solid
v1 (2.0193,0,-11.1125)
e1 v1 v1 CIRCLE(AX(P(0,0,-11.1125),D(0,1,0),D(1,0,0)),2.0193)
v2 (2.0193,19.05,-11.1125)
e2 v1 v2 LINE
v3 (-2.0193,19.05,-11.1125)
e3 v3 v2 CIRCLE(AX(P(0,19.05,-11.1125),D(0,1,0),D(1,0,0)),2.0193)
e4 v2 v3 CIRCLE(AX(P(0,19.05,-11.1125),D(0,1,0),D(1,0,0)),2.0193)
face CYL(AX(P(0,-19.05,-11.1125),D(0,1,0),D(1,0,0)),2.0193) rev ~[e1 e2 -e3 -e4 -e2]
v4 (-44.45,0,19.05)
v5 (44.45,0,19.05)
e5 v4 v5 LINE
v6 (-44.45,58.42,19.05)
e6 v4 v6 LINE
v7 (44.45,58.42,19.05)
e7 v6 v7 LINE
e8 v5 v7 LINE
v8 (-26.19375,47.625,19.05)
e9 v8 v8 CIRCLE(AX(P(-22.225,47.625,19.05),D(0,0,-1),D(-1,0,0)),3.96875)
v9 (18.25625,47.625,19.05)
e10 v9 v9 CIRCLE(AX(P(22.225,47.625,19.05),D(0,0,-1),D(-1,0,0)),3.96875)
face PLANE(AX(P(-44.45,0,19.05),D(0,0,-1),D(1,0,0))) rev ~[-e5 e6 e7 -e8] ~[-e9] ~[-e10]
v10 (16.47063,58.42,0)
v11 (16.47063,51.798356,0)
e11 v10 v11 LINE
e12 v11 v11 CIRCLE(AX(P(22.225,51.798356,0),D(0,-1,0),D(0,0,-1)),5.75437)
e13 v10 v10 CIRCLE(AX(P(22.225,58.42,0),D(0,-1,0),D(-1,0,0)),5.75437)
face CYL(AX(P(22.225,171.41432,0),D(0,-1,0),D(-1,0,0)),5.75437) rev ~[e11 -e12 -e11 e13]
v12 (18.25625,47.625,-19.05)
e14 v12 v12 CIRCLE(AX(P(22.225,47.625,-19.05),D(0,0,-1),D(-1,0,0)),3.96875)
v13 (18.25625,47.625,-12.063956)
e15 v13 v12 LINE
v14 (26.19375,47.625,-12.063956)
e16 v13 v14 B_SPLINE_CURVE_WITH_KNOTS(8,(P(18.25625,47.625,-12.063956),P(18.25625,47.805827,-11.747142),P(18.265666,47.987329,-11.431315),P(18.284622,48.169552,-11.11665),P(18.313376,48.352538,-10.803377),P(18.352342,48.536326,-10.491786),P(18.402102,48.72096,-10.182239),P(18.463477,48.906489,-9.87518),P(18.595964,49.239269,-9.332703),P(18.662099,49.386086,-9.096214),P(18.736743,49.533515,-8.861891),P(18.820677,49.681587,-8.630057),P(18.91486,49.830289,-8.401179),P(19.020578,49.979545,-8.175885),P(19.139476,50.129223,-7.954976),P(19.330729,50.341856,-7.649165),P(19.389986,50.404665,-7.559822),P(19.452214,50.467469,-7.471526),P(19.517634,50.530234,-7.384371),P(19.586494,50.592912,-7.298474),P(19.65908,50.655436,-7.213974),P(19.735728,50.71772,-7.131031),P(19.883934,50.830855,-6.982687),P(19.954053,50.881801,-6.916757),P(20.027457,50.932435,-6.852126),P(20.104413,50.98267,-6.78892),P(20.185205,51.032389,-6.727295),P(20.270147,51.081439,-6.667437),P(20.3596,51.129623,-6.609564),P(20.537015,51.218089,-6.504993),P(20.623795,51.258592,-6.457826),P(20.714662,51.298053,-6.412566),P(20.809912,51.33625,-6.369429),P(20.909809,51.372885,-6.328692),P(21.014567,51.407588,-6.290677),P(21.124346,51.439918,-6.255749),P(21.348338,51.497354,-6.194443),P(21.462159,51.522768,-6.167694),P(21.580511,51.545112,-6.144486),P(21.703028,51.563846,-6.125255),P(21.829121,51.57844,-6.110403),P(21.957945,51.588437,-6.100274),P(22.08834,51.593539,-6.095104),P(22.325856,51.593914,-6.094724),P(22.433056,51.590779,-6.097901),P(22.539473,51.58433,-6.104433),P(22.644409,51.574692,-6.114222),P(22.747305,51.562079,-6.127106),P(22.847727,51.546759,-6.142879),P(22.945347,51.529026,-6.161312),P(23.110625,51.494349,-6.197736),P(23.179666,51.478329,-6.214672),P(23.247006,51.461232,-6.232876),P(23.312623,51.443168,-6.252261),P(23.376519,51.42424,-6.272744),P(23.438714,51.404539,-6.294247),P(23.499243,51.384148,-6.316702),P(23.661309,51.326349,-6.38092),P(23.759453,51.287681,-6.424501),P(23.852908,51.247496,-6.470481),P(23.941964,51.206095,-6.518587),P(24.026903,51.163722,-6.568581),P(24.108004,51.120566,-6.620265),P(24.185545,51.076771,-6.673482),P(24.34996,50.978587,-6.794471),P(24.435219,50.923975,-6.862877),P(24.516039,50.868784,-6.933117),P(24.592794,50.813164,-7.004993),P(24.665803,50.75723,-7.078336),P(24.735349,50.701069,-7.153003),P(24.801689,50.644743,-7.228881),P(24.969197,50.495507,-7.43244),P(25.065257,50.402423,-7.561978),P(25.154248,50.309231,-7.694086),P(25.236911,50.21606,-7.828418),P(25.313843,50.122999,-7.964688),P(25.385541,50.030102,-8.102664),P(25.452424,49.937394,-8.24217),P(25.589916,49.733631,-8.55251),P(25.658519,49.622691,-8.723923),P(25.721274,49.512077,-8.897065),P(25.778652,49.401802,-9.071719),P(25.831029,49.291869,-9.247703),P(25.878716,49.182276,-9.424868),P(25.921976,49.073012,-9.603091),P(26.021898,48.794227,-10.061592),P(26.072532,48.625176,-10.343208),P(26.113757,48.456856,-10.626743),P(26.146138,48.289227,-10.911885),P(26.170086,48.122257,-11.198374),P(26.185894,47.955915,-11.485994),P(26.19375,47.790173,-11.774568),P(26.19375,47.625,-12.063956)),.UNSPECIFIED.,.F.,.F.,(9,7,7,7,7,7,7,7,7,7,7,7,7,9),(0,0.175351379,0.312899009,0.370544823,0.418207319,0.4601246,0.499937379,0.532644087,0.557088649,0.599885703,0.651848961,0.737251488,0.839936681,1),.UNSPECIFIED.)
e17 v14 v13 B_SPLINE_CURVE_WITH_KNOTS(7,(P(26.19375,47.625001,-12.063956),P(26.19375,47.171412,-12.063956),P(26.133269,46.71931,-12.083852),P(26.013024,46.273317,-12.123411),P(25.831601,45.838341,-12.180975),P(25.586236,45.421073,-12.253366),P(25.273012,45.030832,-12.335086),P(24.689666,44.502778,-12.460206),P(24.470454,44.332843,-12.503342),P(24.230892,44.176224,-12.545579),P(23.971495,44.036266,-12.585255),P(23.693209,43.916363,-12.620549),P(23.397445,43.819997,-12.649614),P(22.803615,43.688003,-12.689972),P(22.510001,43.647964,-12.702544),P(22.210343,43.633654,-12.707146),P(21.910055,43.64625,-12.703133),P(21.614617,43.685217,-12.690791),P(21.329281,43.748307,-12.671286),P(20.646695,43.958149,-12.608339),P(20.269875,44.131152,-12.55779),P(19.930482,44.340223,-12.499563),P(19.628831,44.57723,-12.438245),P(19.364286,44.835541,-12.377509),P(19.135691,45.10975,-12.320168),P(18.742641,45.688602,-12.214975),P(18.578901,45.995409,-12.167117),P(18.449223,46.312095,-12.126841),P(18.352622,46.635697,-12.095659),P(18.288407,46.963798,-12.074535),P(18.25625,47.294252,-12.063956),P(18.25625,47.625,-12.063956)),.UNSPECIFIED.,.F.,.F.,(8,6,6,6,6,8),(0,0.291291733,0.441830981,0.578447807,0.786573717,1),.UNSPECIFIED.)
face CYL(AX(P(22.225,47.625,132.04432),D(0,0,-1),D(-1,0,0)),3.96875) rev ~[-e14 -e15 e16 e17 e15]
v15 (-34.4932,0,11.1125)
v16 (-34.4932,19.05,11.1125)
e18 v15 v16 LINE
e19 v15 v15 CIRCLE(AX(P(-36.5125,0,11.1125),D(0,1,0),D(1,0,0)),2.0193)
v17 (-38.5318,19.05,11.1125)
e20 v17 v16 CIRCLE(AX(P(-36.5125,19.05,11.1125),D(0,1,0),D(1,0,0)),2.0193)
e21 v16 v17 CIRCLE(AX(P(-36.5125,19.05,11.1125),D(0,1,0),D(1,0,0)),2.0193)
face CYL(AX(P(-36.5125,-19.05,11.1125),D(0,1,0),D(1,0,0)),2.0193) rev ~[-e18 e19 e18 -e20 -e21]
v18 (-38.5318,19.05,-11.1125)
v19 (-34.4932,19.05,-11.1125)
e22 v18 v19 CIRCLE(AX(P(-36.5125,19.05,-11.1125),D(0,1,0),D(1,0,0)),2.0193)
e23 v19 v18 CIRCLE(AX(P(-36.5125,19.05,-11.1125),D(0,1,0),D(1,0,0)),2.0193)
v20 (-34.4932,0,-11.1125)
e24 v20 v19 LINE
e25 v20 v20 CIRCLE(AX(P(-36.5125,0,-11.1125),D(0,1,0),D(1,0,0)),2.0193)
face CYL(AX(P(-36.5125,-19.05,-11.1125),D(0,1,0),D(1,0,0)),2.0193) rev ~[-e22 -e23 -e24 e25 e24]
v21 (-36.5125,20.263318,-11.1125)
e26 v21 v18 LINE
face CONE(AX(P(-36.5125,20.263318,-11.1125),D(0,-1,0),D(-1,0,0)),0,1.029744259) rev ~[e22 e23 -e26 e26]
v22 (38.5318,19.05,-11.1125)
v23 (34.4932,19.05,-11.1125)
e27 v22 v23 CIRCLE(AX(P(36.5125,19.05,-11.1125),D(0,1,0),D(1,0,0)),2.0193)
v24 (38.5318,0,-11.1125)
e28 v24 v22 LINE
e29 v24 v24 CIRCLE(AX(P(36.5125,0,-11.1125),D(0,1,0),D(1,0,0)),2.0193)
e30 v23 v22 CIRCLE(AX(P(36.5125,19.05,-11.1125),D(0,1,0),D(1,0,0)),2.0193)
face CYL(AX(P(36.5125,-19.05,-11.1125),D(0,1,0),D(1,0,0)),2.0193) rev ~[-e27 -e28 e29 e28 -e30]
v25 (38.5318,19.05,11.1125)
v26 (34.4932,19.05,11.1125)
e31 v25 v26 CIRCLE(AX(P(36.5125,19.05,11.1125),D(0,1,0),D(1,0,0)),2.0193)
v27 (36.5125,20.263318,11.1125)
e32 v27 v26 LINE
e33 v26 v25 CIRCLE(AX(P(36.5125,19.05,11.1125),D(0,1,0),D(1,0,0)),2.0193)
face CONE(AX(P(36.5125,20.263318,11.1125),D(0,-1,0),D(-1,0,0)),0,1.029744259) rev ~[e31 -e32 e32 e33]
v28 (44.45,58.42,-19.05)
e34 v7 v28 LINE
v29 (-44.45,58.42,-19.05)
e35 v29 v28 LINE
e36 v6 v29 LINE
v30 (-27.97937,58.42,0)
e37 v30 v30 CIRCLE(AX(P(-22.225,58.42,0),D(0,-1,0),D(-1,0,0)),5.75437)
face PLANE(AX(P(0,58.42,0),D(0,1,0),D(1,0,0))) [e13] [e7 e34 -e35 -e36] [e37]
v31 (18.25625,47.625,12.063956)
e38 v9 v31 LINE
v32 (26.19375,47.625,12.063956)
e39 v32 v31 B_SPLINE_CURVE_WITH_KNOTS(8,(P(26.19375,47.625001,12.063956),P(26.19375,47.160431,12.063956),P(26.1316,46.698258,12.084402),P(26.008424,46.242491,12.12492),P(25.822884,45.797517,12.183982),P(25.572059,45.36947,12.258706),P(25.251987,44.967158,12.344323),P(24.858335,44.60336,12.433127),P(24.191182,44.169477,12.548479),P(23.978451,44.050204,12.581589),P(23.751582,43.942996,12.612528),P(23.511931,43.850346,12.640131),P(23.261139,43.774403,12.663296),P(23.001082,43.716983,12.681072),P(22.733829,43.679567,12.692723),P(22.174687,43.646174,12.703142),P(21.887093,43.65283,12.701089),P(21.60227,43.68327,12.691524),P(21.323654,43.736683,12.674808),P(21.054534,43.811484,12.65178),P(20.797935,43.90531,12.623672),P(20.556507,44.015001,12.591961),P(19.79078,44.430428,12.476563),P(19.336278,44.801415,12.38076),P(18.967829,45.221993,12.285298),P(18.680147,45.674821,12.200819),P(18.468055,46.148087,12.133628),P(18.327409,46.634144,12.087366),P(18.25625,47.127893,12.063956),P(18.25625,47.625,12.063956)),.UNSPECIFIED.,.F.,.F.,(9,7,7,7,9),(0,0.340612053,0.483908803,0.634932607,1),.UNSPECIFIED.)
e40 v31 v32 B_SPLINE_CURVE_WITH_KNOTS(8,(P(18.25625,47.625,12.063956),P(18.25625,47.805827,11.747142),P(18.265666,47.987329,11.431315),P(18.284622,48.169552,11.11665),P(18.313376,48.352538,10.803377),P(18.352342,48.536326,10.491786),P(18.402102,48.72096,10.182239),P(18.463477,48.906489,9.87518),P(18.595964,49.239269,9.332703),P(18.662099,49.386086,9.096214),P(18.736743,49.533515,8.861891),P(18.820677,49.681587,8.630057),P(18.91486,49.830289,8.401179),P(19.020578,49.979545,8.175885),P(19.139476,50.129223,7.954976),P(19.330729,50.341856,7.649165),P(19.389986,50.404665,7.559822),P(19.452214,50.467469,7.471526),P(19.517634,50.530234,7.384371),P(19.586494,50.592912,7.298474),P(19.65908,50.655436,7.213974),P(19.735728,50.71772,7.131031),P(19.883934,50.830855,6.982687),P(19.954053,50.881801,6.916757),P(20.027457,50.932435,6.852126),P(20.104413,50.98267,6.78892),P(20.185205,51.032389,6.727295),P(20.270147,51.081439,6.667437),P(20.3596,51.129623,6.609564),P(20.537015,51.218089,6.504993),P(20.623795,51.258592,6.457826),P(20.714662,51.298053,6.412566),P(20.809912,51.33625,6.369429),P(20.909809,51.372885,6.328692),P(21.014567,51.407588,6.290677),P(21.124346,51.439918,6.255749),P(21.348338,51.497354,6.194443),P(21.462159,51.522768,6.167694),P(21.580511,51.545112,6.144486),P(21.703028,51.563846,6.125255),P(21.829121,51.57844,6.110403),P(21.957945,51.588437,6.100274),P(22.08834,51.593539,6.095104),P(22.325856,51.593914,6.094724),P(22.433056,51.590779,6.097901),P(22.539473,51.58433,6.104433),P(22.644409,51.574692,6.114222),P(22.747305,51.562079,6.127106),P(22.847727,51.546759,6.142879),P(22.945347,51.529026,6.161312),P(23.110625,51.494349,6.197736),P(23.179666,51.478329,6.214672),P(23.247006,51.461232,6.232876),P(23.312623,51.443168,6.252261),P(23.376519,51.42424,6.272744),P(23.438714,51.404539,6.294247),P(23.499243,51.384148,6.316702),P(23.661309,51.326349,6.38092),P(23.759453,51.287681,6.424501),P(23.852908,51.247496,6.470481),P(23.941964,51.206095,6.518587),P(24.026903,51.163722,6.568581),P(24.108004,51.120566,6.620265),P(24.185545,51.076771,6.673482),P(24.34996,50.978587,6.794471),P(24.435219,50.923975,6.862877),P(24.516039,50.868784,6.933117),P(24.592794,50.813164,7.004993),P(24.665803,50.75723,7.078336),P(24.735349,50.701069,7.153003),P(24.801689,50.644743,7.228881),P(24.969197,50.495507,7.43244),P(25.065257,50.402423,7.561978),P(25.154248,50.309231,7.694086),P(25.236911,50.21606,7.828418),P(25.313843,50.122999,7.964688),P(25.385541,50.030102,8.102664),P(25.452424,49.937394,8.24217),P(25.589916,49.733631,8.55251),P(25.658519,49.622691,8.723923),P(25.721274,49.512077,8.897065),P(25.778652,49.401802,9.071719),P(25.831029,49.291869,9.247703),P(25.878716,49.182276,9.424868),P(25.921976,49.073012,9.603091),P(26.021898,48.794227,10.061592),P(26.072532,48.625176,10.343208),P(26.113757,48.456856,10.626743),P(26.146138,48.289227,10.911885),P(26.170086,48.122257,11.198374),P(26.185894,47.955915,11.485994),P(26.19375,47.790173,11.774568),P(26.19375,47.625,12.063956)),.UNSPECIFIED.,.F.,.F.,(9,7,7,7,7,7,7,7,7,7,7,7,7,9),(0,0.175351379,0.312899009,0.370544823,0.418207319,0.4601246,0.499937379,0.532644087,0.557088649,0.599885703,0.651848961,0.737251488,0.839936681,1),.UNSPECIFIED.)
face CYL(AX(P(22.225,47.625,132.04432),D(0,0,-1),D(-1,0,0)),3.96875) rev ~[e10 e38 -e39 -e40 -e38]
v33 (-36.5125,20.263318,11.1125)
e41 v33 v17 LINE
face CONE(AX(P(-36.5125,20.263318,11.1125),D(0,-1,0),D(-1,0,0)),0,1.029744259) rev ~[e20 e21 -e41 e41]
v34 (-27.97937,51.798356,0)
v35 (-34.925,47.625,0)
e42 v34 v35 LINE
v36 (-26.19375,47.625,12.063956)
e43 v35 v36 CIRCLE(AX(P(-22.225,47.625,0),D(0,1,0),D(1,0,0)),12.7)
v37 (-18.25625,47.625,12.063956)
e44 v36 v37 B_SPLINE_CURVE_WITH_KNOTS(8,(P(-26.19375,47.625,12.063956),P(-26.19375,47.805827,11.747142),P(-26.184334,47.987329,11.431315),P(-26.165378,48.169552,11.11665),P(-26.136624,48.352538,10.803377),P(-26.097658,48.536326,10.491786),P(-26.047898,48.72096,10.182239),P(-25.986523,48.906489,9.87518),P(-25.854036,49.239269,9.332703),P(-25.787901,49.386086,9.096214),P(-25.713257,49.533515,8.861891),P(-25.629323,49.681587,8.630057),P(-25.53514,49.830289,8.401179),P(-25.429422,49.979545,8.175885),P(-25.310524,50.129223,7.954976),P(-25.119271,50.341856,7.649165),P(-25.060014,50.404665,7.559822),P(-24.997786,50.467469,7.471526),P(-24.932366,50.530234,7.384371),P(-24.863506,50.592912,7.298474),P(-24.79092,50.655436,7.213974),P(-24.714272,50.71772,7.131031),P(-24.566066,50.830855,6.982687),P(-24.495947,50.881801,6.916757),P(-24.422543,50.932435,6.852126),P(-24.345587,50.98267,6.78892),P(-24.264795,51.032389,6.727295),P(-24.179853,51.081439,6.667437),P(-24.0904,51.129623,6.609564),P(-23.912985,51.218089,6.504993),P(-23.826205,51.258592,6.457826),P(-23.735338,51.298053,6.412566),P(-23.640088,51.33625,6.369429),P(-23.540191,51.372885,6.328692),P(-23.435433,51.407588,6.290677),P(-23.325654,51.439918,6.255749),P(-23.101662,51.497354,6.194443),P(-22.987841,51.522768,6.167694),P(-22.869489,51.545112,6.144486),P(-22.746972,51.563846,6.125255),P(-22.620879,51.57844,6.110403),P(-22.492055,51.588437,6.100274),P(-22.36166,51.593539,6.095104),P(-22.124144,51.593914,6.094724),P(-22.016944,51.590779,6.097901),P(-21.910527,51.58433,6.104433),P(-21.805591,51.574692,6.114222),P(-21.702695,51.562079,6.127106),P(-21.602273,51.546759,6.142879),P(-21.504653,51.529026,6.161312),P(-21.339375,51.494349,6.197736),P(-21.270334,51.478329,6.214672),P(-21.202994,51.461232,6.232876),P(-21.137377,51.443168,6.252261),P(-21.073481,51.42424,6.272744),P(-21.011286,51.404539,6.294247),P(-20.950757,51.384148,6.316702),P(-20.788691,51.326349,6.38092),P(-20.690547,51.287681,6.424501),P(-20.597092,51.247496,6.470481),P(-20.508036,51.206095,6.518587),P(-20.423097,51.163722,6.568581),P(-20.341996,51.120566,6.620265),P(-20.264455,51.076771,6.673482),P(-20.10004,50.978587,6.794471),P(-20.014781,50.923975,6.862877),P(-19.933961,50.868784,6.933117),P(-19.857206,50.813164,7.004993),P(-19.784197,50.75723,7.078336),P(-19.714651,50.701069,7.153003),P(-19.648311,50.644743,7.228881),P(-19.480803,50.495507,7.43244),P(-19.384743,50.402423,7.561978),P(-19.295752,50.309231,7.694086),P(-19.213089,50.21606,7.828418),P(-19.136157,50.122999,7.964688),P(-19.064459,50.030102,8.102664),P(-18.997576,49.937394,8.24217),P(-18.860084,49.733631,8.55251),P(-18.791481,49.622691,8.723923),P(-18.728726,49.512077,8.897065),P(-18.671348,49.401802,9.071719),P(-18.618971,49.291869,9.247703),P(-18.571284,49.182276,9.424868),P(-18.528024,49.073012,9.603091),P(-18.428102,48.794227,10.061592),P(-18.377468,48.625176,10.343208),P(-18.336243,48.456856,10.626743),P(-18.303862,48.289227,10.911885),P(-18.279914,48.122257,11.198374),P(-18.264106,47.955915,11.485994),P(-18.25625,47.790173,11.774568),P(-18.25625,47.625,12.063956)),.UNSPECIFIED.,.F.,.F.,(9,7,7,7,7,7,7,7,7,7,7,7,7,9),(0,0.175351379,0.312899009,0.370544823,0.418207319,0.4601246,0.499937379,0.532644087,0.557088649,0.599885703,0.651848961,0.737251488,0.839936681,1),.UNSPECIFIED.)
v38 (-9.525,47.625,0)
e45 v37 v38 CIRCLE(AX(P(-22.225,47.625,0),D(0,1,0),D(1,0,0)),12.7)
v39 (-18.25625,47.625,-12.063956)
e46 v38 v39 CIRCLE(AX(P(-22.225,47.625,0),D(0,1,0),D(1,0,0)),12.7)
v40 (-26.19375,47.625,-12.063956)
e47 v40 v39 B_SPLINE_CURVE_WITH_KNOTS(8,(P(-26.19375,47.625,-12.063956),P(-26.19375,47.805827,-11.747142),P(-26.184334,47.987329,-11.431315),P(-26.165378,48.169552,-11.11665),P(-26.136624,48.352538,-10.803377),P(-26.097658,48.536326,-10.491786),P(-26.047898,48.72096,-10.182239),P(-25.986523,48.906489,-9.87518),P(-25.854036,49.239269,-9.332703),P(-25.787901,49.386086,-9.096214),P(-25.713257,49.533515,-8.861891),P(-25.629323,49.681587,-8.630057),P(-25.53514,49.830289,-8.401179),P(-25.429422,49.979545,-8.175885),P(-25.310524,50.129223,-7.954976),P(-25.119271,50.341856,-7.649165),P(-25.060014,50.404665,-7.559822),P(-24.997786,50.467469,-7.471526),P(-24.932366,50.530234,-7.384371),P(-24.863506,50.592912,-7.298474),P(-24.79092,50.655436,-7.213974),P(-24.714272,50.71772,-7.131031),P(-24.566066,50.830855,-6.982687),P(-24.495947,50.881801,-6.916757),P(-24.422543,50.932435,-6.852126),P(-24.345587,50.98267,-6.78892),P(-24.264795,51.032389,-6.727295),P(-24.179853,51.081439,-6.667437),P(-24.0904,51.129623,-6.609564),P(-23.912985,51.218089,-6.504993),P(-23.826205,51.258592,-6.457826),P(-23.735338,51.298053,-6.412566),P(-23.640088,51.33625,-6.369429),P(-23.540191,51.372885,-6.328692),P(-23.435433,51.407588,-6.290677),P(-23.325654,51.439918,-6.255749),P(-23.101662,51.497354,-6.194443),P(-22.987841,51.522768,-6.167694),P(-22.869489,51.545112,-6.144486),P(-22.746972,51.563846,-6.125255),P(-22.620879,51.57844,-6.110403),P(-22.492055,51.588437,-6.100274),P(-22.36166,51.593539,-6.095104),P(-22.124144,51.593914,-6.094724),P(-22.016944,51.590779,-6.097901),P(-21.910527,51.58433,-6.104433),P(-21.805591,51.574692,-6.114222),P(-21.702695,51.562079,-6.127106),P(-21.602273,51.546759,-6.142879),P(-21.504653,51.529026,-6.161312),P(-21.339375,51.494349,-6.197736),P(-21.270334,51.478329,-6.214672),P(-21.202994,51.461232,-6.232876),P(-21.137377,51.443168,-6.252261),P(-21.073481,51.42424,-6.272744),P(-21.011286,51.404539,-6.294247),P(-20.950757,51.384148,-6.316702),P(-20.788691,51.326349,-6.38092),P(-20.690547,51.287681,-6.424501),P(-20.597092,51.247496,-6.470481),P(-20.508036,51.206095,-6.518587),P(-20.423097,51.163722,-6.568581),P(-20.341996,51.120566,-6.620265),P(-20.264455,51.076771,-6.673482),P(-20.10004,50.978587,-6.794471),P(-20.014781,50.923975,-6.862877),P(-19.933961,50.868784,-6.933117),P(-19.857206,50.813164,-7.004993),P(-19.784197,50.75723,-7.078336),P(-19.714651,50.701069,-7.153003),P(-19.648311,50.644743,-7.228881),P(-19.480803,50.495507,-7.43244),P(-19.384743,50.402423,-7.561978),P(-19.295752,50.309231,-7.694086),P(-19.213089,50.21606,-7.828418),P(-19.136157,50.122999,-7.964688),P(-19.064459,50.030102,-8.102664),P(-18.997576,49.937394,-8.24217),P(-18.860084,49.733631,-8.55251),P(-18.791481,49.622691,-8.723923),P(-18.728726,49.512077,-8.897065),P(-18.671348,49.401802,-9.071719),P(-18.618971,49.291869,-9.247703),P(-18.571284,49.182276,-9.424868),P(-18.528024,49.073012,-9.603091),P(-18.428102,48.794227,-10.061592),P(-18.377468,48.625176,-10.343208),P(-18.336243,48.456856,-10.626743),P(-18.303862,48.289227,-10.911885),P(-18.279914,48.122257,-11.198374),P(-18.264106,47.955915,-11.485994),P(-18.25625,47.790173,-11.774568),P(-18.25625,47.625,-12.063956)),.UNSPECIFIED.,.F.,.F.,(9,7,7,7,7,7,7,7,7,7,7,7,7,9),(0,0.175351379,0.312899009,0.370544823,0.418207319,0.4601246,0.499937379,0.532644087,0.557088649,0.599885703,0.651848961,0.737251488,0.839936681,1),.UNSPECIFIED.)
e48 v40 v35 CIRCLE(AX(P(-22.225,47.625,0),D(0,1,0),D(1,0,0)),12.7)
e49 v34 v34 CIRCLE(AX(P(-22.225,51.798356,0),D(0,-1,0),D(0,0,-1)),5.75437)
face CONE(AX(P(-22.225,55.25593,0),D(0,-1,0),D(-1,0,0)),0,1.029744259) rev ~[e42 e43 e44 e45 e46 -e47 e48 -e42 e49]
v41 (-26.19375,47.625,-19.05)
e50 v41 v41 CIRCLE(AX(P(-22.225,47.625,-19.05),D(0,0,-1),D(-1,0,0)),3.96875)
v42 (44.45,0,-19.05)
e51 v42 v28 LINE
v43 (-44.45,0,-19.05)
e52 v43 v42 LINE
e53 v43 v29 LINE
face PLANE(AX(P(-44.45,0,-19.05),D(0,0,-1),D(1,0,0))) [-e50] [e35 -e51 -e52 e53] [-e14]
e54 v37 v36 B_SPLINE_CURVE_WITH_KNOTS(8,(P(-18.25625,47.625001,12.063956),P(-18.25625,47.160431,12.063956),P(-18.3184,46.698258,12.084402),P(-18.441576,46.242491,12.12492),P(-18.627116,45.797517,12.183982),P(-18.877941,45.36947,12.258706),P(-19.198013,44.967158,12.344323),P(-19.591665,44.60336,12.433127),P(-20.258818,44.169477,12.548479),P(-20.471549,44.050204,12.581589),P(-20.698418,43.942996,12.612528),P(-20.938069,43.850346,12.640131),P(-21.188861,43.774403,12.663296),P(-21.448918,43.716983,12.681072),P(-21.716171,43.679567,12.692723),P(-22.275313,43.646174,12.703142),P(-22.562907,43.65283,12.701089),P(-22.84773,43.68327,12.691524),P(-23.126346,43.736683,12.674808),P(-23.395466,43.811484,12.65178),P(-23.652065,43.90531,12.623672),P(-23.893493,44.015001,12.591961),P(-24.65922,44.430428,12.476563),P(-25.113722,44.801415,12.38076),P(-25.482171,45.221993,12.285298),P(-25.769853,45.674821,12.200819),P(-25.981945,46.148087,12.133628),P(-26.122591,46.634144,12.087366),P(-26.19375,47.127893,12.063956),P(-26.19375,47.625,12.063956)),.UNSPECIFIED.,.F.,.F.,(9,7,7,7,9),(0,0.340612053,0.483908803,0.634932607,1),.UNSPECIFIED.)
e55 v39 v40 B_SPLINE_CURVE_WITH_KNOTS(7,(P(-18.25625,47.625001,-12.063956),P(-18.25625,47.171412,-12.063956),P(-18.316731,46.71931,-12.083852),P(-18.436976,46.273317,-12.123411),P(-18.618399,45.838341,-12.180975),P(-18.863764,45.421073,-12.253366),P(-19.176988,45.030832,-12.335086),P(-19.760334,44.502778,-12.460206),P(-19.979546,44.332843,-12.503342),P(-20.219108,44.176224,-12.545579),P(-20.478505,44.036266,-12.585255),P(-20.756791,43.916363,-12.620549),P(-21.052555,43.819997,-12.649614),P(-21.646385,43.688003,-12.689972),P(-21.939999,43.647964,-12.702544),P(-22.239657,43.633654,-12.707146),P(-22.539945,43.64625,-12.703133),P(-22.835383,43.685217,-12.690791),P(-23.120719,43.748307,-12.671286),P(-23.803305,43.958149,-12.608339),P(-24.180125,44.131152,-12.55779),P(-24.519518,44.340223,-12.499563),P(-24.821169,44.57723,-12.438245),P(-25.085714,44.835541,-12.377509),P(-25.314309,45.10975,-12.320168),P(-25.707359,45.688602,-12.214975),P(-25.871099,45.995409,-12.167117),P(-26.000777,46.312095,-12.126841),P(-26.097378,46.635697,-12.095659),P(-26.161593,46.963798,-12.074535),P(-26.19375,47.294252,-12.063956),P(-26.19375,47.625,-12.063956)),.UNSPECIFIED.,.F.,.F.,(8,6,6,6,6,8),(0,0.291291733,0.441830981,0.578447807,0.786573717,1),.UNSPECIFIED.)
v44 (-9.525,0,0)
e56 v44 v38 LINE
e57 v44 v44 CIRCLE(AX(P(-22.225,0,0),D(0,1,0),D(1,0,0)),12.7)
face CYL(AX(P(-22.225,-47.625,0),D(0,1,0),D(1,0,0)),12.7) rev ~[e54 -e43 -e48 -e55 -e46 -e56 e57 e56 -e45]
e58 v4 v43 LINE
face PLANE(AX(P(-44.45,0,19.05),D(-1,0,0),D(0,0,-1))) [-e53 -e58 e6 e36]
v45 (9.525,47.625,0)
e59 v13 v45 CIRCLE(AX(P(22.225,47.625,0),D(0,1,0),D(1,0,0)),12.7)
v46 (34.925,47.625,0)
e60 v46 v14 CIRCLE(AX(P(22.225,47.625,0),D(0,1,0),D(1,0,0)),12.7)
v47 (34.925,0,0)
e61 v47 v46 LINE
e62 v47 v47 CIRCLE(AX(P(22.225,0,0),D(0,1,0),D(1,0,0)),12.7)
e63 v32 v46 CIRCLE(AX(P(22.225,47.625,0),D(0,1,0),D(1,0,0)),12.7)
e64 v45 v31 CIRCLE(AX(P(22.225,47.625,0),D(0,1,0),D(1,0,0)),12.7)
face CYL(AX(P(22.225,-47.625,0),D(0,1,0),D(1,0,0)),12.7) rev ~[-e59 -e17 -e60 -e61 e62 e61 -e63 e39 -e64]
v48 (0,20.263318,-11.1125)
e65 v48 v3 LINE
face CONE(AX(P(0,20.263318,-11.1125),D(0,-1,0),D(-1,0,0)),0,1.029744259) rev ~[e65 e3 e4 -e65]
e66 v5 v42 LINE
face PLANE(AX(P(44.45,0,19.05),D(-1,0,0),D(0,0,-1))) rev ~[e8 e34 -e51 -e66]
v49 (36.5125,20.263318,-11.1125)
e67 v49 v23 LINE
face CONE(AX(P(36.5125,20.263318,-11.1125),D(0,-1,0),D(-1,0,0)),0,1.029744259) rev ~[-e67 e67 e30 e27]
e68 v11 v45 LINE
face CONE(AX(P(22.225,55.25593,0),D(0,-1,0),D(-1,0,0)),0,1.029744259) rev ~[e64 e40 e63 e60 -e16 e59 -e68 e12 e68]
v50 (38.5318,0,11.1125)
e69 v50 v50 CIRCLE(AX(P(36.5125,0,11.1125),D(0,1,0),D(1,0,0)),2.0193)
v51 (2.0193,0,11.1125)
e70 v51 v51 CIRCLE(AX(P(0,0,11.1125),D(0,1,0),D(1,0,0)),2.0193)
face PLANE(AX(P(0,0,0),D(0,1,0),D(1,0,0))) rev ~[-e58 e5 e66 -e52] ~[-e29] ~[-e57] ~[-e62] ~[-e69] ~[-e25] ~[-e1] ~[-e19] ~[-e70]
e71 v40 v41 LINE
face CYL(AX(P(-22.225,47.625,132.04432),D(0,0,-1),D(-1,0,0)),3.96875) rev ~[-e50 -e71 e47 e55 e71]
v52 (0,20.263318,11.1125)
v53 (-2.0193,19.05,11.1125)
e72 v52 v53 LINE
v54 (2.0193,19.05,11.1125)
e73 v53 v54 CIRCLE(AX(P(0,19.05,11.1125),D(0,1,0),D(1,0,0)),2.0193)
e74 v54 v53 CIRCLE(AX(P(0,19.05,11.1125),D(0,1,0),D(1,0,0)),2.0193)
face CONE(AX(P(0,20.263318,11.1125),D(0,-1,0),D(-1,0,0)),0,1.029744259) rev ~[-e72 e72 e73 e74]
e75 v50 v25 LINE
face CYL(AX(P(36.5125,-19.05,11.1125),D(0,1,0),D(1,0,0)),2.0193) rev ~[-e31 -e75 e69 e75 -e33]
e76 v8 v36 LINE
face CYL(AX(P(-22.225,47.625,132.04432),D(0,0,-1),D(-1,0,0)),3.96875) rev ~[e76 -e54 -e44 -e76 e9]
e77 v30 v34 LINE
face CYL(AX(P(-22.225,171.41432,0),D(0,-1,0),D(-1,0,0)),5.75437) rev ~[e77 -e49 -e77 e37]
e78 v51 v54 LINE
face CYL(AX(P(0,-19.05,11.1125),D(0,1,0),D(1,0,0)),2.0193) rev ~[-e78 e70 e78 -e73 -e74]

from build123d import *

# Parameters (mm, degrees)
SKETCH1_W                  = 88.9
SKETCH1_H                  = 38.1
BLOCK_DEPTH                = 58.42
SPRING_BORES_D             = 25.4
SPRING_BORES_DEPTH         = 47.625
SPRING_BORES_TIP           = 7.630929862
F_1_2_20_TAPPED_HOLES_D    = 11.50874
VIEW_HOLES_D               = 7.9375
F_10_32_TAPPED_HOLES_D     = 4.0386
F_10_32_TAPPED_HOLES_DEPTH = 19.05
F_10_32_TAPPED_HOLES_TIP   = 1.213317848


with BuildPart() as part:
    # Sketch1 → Block (new body)
    with BuildSketch(Plane(origin=(0, 0, 0), x_dir=(1, 0, 0), z_dir=(0, 1, 0))):
        Rectangle(SKETCH1_W, SKETCH1_H)
    extrude(amount=BLOCK_DEPTH)

    # Spring Bores
    with Locations(Plane(origin=(0, 0, 0), x_dir=(-1, 0, 0), z_dir=(0, -1, 0))):
        with Locations((22.225, 0), (-22.225, 0)):
            Hole(SPRING_BORES_D / 2, depth=SPRING_BORES_DEPTH)
            with Locations((0, 0, -(SPRING_BORES_DEPTH + SPRING_BORES_TIP / 2))):  # 118° drill point
                Cone(0, SPRING_BORES_D / 2, SPRING_BORES_TIP, mode=Mode.SUBTRACT)

    # 1/2-20 Tapped Holes (through all)
    with Locations(Plane(origin=(0, 58.42, 0), x_dir=(1, 0, 0), z_dir=(0, 1, 0))):
        with Locations((-22.225, 0), (22.225, 0)):
            Hole(F_1_2_20_TAPPED_HOLES_D / 2)

    # View Holes (through all)
    with Locations(Plane.XY.offset(19.05)):
        with Locations((-22.225, 47.625), (22.225, 47.625)):
            Hole(VIEW_HOLES_D / 2)

    # #10-32 Tapped Holes
    with Locations(Plane(origin=(0, 0, 0), x_dir=(-1, 0, 0), z_dir=(0, -1, 0))):
        with Locations((0, -11.1125), (0, 11.1125), (36.5125, -11.1125), (36.5125, 11.1125), (-36.5125, 11.1125), (-36.5125, -11.1125)):
            Hole(F_10_32_TAPPED_HOLES_D / 2, depth=F_10_32_TAPPED_HOLES_DEPTH)
            with Locations((0, 0, -(F_10_32_TAPPED_HOLES_DEPTH + F_10_32_TAPPED_HOLES_TIP / 2))):  # 118° drill point
                Cone(0, F_10_32_TAPPED_HOLES_D / 2, F_10_32_TAPPED_HOLES_TIP, mode=Mode.SUBTRACT)


solid = part.part
